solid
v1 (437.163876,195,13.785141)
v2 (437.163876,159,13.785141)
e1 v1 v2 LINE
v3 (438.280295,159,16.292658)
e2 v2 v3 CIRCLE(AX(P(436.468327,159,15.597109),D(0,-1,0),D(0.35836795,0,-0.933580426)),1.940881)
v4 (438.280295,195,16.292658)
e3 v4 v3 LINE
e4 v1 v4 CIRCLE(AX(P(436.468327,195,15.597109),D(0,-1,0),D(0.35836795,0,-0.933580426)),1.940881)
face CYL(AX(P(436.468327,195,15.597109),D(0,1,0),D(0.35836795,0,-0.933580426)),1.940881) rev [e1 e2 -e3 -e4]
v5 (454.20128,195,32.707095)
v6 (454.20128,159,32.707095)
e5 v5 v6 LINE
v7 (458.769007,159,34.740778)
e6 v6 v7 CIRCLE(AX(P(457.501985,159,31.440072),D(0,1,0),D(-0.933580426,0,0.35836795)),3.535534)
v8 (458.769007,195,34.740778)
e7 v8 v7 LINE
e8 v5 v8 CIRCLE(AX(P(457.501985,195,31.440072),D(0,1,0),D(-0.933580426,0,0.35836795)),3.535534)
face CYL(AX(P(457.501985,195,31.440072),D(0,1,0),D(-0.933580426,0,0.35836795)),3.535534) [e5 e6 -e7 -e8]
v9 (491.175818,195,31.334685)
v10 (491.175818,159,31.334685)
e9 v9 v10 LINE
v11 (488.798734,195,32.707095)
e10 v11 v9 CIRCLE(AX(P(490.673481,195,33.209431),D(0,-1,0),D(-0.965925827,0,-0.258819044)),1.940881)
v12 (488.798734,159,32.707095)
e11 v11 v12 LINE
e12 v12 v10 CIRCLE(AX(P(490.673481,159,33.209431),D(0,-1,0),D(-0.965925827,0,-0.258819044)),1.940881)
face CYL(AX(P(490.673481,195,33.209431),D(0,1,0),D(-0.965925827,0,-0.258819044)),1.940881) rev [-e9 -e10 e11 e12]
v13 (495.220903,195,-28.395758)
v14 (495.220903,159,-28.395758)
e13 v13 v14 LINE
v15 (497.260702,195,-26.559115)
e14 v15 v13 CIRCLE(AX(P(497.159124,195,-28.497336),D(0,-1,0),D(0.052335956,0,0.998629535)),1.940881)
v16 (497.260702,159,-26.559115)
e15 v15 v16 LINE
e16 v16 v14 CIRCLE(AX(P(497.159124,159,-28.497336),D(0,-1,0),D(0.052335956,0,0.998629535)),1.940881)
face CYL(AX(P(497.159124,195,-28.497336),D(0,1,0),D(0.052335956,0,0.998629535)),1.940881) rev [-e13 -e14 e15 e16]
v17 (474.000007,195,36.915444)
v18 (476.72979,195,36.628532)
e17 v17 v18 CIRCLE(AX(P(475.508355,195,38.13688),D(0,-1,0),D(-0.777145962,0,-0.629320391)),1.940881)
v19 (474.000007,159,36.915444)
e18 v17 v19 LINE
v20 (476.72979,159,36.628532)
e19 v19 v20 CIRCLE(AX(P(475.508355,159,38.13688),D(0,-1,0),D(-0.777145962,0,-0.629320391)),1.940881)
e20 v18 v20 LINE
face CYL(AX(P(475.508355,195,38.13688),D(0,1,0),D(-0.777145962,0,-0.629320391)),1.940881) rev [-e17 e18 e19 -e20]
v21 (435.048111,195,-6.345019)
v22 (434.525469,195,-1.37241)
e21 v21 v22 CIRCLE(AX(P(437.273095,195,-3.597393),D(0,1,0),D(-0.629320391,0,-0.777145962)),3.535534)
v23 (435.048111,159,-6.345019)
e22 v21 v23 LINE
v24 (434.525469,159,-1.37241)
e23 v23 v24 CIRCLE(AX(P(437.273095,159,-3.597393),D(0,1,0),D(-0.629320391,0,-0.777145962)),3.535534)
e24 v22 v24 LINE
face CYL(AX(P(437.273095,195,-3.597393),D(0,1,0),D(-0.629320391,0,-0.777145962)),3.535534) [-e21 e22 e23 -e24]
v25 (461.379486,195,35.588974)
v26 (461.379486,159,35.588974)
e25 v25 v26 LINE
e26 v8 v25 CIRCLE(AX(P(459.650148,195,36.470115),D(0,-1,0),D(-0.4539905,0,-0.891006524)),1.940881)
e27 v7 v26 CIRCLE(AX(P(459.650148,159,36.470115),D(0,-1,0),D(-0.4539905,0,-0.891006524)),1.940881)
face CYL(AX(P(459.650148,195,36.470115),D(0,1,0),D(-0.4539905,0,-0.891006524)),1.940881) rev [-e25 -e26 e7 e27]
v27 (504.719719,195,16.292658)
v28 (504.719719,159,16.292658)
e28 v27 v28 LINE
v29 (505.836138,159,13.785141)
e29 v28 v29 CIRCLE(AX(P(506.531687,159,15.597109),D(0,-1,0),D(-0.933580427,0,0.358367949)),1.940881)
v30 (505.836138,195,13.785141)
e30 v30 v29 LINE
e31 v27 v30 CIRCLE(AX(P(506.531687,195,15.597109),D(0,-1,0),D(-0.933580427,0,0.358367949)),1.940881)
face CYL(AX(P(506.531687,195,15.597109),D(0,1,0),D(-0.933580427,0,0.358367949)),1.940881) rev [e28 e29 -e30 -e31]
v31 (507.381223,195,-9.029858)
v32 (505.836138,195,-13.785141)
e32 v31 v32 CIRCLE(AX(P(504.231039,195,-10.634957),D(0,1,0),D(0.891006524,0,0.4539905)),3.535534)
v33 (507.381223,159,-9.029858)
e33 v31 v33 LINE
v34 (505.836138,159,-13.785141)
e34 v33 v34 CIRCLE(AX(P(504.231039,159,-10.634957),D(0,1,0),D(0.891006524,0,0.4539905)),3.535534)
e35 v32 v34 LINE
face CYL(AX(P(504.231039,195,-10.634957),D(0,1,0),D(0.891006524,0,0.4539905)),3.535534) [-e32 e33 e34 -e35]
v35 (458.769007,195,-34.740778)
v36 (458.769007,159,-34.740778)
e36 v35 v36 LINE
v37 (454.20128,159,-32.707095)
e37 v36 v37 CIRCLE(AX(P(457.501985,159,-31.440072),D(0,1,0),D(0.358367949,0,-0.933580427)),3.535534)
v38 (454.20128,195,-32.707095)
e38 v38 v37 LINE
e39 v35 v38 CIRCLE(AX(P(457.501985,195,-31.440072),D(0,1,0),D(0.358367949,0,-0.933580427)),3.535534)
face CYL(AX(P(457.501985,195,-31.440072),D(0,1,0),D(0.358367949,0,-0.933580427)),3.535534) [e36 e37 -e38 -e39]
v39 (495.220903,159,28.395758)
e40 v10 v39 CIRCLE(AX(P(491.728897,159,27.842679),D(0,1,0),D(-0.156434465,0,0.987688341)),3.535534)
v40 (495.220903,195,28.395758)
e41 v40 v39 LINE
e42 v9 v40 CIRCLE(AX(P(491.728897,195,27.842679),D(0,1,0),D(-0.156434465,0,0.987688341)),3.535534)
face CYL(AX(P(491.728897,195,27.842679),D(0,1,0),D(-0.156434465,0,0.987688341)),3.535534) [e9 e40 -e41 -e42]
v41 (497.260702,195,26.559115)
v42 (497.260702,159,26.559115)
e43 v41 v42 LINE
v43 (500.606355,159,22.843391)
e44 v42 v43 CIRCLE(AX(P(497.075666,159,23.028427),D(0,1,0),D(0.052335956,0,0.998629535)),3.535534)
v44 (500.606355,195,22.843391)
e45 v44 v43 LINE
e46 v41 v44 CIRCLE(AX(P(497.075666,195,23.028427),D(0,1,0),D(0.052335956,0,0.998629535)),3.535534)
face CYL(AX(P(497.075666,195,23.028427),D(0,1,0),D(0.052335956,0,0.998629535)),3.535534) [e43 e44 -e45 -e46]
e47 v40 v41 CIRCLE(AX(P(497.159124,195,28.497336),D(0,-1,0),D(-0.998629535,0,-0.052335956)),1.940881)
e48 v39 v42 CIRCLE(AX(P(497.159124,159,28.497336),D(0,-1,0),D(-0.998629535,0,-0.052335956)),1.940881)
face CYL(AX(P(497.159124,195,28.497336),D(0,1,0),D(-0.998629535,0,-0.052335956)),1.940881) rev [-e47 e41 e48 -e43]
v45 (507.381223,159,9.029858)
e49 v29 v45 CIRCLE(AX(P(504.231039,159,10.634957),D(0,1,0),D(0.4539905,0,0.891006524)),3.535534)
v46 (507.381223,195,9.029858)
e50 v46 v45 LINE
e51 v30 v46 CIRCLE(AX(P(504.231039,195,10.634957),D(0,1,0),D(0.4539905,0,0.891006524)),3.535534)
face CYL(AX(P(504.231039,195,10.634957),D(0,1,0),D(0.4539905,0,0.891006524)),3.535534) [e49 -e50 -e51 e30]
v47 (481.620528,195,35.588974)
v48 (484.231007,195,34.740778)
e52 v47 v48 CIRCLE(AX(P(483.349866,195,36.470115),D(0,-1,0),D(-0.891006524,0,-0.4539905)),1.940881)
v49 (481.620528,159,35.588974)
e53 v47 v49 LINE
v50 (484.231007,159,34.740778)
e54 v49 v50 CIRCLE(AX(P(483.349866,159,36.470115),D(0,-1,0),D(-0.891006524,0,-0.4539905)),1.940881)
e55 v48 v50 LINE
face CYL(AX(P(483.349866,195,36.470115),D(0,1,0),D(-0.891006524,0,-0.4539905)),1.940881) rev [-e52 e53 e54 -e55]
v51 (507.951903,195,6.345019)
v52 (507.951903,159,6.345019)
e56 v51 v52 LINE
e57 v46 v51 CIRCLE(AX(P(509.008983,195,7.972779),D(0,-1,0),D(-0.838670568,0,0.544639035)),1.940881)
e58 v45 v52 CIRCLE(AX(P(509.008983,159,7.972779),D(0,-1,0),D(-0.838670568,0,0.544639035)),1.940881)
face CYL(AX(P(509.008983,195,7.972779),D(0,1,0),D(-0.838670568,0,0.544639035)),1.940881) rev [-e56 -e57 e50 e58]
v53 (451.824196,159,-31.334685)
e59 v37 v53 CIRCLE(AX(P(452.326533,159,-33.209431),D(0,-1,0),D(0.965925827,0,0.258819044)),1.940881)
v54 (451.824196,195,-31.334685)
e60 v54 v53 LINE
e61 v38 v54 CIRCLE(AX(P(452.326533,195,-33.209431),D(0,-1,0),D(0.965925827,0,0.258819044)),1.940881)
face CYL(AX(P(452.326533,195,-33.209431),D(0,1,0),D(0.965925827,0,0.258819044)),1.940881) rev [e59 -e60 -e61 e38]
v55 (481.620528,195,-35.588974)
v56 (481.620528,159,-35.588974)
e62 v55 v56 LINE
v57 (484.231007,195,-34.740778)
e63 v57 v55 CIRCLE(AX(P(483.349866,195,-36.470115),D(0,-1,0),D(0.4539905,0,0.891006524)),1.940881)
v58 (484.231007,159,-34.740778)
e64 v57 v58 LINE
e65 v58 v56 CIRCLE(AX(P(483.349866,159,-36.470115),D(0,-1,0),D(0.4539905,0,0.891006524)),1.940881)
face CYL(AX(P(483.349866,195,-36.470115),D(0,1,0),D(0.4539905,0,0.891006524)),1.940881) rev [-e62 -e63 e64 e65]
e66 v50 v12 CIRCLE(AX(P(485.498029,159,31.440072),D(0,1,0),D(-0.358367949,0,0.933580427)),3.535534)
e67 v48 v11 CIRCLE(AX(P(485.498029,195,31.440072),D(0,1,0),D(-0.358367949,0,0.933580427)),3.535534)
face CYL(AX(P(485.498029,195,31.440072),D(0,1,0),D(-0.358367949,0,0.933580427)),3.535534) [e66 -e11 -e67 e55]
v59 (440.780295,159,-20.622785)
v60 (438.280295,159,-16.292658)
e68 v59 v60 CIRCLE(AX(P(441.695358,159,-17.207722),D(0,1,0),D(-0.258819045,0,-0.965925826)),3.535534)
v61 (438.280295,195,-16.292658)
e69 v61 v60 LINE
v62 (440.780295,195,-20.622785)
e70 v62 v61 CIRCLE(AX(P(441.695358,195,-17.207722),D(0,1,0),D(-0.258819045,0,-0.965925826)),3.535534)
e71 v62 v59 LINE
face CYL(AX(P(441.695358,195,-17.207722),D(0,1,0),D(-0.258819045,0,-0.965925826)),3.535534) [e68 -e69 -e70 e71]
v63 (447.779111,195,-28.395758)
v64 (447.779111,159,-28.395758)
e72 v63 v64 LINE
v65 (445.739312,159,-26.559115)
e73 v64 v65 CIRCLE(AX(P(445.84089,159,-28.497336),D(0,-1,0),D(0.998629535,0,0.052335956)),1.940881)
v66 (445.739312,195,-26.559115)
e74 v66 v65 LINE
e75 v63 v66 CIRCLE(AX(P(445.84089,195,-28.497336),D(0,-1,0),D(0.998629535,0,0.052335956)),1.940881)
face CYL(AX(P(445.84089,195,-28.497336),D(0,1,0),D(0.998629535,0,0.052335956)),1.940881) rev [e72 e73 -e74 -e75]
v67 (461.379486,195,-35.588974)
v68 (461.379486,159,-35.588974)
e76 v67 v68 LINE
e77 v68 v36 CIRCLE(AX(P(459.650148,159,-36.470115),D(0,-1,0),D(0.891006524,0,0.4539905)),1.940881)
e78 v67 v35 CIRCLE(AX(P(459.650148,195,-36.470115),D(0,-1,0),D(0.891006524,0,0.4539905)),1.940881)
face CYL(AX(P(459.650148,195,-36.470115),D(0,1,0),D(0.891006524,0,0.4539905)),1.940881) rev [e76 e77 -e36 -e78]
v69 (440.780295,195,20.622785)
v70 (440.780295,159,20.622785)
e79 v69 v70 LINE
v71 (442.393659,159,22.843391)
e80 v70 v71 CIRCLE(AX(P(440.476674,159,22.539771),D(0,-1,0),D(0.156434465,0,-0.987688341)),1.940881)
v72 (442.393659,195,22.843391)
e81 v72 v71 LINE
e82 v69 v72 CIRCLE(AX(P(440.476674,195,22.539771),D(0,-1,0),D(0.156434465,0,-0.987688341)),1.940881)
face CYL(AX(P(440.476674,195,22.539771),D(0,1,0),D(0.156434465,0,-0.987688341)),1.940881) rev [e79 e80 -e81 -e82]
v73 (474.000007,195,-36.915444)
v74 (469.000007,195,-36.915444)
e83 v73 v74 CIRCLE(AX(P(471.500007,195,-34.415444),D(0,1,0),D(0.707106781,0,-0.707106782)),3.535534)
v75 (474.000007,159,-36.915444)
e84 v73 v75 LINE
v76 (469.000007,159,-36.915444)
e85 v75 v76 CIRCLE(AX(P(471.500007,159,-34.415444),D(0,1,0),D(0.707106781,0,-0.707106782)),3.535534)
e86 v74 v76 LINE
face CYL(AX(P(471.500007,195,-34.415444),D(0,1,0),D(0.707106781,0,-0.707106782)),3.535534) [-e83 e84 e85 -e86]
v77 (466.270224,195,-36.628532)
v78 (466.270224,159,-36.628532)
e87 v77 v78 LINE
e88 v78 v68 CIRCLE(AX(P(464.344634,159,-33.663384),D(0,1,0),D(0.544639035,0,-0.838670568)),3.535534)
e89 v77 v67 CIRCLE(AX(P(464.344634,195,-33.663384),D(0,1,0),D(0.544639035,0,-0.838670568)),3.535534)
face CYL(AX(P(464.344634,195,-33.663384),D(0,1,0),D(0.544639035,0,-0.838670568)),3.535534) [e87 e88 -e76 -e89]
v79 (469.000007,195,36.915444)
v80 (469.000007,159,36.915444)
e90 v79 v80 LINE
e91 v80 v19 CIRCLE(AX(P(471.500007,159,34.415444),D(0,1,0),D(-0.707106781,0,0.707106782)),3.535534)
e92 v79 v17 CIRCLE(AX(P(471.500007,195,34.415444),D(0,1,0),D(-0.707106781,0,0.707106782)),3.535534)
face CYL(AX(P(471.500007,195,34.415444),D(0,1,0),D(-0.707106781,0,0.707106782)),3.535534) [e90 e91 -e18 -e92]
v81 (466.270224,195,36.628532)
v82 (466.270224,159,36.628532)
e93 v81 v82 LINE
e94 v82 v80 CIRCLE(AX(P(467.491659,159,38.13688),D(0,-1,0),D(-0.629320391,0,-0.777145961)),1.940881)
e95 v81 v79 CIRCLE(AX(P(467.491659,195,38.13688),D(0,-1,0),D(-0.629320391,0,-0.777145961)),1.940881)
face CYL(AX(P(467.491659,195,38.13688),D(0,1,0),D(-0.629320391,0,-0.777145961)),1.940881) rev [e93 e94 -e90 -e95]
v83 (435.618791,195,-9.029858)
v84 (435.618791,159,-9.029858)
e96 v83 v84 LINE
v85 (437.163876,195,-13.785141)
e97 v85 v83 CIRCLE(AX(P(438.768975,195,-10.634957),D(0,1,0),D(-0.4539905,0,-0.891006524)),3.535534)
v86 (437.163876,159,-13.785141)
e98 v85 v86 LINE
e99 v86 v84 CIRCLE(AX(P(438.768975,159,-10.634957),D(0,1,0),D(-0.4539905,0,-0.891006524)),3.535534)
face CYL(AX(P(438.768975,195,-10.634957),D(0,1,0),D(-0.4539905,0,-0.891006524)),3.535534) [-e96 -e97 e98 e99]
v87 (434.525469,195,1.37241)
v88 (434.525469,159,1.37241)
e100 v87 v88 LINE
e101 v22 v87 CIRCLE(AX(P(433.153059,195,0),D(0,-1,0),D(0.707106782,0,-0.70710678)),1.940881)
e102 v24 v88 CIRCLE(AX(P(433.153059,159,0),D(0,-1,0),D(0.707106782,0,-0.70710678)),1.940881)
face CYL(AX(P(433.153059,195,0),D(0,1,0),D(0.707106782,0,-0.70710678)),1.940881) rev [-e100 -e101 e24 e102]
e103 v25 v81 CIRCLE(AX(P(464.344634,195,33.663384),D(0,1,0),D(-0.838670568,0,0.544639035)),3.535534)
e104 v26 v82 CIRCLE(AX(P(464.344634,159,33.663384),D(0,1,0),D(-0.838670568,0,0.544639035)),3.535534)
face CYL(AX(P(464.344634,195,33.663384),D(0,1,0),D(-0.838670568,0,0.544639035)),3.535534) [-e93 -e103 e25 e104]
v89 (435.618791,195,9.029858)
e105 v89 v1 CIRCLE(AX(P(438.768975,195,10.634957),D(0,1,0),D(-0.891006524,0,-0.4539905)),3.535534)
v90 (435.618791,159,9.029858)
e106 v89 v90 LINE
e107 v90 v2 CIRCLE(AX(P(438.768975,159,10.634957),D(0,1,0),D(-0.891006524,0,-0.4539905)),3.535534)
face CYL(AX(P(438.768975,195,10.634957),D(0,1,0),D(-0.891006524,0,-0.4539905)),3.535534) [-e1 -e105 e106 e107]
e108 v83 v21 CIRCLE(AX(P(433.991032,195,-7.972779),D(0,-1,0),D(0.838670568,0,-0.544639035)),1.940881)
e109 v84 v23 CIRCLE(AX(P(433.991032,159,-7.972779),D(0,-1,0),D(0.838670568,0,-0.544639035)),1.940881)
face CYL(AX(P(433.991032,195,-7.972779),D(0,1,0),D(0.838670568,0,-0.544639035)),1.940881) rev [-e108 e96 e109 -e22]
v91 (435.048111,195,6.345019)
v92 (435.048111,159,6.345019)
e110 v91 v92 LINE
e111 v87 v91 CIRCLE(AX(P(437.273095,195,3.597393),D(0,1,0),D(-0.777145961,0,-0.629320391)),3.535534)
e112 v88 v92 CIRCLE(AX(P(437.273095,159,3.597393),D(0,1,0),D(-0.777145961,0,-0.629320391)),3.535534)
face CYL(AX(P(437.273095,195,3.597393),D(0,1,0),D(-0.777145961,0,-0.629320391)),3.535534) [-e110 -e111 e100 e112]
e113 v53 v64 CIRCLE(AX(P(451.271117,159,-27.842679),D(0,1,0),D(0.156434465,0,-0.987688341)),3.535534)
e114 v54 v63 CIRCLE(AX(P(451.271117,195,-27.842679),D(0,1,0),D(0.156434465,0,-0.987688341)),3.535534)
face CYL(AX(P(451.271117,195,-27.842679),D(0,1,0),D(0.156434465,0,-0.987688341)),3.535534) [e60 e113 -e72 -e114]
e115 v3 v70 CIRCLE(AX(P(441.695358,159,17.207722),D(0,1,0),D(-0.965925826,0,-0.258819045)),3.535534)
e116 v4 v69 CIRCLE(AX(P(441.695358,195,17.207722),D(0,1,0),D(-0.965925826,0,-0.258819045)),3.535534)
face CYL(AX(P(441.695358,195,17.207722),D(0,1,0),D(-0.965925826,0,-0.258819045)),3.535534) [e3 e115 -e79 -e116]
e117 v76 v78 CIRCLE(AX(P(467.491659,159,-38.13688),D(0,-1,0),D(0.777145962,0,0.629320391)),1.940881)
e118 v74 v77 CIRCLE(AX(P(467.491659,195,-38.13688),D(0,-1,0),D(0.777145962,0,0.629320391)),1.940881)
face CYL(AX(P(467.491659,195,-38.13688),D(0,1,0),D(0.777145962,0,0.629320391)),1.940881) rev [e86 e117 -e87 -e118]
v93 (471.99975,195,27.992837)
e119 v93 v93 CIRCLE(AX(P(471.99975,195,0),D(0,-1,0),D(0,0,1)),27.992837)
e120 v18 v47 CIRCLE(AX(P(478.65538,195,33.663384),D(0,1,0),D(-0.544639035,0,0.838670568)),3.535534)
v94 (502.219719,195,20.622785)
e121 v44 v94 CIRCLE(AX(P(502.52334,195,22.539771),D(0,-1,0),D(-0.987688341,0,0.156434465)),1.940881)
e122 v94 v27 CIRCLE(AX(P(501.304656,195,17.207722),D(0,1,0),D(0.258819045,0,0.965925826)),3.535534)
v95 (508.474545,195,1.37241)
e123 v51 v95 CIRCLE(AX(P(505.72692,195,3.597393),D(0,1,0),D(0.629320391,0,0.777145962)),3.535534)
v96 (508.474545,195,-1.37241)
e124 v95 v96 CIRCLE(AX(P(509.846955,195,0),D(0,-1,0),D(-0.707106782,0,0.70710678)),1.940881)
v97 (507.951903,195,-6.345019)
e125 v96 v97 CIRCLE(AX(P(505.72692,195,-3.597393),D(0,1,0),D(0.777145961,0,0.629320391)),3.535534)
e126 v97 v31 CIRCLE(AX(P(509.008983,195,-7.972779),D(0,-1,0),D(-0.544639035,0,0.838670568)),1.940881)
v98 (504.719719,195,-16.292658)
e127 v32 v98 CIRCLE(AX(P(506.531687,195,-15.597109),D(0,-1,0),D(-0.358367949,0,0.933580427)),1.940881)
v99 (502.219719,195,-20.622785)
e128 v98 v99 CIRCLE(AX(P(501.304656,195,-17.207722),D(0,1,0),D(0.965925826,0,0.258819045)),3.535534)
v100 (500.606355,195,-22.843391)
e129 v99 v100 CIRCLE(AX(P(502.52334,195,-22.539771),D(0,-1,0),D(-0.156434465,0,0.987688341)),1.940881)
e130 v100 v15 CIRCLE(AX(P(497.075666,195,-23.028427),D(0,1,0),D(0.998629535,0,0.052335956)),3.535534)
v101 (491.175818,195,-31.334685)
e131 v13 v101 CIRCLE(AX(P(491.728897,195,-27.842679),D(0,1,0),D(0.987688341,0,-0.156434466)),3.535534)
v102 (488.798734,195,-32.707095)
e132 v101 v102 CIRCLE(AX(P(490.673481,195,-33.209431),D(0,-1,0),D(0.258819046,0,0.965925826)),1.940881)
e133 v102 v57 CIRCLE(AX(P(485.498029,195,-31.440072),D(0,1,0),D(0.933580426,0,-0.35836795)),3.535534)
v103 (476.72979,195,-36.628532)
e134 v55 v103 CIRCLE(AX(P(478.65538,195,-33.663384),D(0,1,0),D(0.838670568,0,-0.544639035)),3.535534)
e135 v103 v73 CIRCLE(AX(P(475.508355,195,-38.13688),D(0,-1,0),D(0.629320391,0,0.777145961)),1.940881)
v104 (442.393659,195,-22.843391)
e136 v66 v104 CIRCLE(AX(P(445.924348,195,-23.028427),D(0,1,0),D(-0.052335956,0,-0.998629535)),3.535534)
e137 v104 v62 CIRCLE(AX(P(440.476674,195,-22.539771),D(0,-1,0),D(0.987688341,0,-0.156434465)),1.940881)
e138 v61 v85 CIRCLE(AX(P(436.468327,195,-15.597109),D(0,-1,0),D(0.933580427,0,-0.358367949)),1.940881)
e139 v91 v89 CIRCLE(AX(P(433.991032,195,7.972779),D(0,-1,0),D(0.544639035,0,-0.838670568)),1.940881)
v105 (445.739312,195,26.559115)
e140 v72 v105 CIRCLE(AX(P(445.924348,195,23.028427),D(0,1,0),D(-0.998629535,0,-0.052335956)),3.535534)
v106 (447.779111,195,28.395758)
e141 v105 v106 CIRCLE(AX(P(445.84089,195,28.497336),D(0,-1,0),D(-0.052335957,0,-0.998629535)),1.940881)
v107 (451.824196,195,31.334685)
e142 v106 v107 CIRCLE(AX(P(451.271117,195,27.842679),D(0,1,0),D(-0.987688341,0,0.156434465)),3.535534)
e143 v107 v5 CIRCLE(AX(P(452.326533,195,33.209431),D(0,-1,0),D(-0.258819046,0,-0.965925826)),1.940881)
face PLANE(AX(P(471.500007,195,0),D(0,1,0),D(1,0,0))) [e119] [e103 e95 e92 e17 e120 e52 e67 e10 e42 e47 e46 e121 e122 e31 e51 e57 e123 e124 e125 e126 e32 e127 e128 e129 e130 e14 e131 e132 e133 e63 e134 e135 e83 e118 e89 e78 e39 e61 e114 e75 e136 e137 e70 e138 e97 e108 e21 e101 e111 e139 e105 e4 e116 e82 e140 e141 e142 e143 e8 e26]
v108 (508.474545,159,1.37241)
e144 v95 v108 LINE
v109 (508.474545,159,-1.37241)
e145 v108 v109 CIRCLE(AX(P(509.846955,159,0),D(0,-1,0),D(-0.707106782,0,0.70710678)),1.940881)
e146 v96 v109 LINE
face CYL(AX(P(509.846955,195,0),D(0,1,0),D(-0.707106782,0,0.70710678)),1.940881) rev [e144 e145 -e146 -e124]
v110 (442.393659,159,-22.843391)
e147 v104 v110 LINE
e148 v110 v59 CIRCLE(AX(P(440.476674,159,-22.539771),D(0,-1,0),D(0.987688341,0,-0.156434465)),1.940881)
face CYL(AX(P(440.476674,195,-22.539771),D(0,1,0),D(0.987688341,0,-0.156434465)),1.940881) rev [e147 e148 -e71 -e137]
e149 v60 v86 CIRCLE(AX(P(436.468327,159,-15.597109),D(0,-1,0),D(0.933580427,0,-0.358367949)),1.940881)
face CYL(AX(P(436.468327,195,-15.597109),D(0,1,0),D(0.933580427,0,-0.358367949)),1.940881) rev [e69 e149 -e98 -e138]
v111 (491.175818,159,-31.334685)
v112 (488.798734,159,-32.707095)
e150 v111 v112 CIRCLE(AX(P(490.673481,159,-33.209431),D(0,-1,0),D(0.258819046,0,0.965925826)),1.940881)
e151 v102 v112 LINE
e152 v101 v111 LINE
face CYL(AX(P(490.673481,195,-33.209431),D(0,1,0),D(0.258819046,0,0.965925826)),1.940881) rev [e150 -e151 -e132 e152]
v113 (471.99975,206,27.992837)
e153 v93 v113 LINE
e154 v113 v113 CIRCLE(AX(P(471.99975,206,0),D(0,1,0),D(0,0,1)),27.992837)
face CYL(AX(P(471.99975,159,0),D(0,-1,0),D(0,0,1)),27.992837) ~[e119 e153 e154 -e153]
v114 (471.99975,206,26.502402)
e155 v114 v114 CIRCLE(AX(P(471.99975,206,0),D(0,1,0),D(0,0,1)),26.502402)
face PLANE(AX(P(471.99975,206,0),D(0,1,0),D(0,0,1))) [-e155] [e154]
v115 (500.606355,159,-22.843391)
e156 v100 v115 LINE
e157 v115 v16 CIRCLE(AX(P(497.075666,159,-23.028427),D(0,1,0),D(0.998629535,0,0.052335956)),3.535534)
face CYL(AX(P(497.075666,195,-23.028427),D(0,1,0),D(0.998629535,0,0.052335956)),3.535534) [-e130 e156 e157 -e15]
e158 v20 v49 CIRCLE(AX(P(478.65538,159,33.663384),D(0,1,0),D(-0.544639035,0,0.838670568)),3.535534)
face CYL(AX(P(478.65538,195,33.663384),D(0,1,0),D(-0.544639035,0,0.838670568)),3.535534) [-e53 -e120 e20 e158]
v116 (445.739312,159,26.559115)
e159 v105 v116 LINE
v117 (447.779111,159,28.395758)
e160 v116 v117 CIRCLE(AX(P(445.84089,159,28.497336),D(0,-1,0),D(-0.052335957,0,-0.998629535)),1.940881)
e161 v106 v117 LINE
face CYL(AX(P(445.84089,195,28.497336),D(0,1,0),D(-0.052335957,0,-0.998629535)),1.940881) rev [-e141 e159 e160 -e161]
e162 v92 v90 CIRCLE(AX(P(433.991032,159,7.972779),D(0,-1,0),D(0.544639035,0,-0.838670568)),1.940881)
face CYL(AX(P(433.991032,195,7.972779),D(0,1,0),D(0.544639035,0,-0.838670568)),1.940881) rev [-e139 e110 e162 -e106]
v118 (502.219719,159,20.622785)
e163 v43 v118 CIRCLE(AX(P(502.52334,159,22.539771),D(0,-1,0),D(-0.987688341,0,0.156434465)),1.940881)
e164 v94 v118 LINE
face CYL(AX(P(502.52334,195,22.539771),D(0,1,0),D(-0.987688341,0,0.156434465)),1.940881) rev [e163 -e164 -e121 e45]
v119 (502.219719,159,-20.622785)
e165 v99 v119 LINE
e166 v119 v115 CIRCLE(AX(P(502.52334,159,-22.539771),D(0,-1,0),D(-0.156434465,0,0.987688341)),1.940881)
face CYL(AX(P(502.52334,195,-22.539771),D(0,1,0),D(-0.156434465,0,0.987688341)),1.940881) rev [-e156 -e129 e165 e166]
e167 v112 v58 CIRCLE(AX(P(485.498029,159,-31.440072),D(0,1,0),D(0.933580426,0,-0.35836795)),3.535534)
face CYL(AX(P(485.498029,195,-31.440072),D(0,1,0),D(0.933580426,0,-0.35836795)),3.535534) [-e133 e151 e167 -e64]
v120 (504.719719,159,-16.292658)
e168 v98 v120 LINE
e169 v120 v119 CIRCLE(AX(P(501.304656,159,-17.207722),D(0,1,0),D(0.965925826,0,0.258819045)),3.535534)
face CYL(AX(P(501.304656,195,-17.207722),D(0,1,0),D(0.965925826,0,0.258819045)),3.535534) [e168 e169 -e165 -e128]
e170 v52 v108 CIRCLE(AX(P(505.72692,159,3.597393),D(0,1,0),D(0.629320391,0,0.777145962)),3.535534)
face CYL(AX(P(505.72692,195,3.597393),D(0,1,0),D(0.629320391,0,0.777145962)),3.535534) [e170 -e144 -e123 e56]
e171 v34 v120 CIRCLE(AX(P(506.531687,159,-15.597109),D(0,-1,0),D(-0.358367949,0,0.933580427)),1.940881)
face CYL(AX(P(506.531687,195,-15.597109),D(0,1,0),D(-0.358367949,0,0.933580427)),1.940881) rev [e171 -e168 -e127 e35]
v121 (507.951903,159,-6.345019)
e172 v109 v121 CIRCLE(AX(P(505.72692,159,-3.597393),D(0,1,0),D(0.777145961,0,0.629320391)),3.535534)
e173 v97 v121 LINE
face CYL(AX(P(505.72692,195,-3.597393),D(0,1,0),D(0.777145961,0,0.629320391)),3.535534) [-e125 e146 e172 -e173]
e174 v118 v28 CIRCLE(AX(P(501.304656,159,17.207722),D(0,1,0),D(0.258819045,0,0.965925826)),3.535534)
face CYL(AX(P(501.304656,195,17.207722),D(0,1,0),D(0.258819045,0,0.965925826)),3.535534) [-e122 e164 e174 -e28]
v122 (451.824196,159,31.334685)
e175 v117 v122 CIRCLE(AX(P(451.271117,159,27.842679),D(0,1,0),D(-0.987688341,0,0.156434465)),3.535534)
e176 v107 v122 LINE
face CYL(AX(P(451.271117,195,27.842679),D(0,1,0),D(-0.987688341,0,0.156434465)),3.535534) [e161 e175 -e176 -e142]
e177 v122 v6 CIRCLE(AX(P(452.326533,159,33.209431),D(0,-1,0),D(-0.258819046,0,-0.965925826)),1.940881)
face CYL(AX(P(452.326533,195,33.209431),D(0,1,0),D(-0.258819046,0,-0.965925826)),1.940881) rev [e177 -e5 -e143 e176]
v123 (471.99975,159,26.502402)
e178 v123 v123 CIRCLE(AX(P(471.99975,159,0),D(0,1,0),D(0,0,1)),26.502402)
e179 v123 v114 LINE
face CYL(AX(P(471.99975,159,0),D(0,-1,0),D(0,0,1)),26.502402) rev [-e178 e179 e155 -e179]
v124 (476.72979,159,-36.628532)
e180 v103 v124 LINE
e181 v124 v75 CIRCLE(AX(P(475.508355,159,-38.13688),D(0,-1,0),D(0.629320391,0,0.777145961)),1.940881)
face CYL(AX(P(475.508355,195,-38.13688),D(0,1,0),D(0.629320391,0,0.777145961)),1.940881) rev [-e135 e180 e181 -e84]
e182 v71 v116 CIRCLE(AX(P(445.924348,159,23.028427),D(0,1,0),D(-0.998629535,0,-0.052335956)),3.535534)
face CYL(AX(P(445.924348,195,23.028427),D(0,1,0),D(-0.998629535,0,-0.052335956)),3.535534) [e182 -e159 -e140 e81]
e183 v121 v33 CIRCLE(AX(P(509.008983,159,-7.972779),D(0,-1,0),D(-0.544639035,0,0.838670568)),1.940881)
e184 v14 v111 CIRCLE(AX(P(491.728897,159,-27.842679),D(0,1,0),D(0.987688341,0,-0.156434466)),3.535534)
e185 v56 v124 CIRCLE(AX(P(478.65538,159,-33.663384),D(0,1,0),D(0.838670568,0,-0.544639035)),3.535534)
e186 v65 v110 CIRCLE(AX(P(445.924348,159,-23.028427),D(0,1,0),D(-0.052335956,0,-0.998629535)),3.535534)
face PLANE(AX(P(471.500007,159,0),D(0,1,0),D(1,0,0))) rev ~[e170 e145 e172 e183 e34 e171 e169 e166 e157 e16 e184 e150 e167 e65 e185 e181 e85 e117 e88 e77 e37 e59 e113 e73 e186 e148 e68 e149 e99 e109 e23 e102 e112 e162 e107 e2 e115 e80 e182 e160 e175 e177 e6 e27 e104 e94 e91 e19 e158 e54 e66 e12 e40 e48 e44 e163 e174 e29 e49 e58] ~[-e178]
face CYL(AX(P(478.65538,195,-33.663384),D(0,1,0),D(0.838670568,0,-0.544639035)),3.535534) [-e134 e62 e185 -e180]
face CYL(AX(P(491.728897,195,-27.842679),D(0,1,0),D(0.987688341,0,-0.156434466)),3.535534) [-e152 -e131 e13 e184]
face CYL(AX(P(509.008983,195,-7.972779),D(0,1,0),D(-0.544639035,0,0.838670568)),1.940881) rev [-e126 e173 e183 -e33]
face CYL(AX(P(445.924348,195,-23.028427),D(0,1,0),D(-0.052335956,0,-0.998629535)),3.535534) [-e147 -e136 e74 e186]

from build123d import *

# Parameters (mm, degrees)
SKETCH7_R                = 27.493094195
BOSS_EXTRUDE2_DEPTH      = 36
BOSS_EXTRUDE3_DEPTH      = 11
BOSS_EXTRUDE3_DEPTH_BACK = 36
SKETCH8_R                = 27.992837321
SKETCH8_R_2              = 26.502402217


with BuildPart() as part:
    # Sketch7 → Boss-Extrude2 (new body)
    with BuildSketch(Plane(origin=(0, 195, 0), x_dir=(1, 0, 0), z_dir=(0, 1, 0))):
        with BuildLine():
            ThreePointArc((469.000007042, -36.915443923), (471.500007042, -37.950977828), (474.000007042, -36.915443923))
            ThreePointArc((474.000007042, -36.915443923), (475.305477345, -36.206631381), (476.729790403, -36.62853213))
            ThreePointArc((476.729790403, -36.62853213), (479.390459011, -37.121657908), (481.620528407, -35.588973676))
            ThreePointArc((481.620528407, -35.588973676), (482.750100638, -34.624227851), (484.231007137, -34.74077772))
            ThreePointArc((484.231007137, -34.74077772), (486.936060365, -34.669943408), (488.798734425, -32.707094505))
            ThreePointArc((488.798734425, -32.707094505), (489.703040856, -31.528579418), (491.175818076, -31.334684619))
            ThreePointArc((491.175818076, -31.334684619), (493.80703212, -30.702986016), (495.220903048, -28.395758358))
            ThreePointArc((495.220903048, -28.395758358), (495.86042115, -27.054980774), (497.260701657, -26.55911544))
            ThreePointArc((497.260701657, -26.55911544), (499.703079837, -25.394160806), (500.606354689, -22.843391312))
            ThreePointArc((500.606354689, -22.843391312), (500.953134452, -21.398949646), (502.219719271, -20.622785471))
            ThreePointArc((502.219719271, -20.622785471), (504.36651794, -18.975488914), (504.719719271, -16.292658452))
            ThreePointArc((504.719719271, -16.292658452), (504.758604755, -14.807681735), (505.836138051, -13.785140818))
            ThreePointArc((505.836138051, -13.785140818), (507.593531806, -11.727497102), (507.381223022, -9.029858236))
            ThreePointArc((507.381223022, -9.029858236), (507.110514745, -7.569247077), (507.951903142, -6.345019362))
            ThreePointArc((507.951903142, -6.345019362), (509.243085443, -3.966957392), (508.474545458, -1.372409886))
            ThreePointArc((508.474545458, -1.372409886), (507.906074671, 0), (508.474545458, 1.372409886))
            ThreePointArc((508.474545458, 1.372409886), (509.243085443, 3.966957392), (507.951903142, 6.345019362))
            ThreePointArc((507.951903142, 6.345019362), (507.110514745, 7.569247077), (507.381223022, 9.029858236))
            ThreePointArc((507.381223022, 9.029858236), (507.593531806, 11.727497102), (505.836138051, 13.785140818))
            ThreePointArc((505.836138051, 13.785140818), (504.758604755, 14.807681735), (504.719719271, 16.292658452))
            ThreePointArc((504.719719271, 16.292658452), (504.36651794, 18.975488914), (502.219719271, 20.622785471))
            ThreePointArc((502.219719271, 20.622785471), (500.953134452, 21.398949646), (500.606354689, 22.843391312))
            ThreePointArc((500.606354689, 22.843391312), (499.703079837, 25.394160806), (497.260701657, 26.55911544))
            ThreePointArc((497.260701657, 26.55911544), (495.86042115, 27.054980774), (495.220903048, 28.395758358))
            ThreePointArc((495.220903048, 28.395758358), (493.80703212, 30.702986016), (491.175818076, 31.334684619))
            ThreePointArc((491.175818076, 31.334684619), (489.703040856, 31.528579418), (488.798734425, 32.707094505))
            ThreePointArc((488.798734425, 32.707094505), (486.936060365, 34.669943408), (484.231007137, 34.74077772))
            ThreePointArc((484.231007137, 34.74077772), (482.750100638, 34.624227851), (481.620528407, 35.588973676))
            ThreePointArc((481.620528407, 35.588973676), (479.390459011, 37.121657908), (476.729790403, 36.62853213))
            ThreePointArc((476.729790403, 36.62853213), (475.305477345, 36.206631381), (474.000007042, 36.915443923))
            ThreePointArc((474.000007042, 36.915443923), (471.500007042, 37.950977828), (469.000007042, 36.915443923))
            ThreePointArc((469.000007042, 36.915443923), (467.694536739, 36.206631381), (466.270223681, 36.62853213))
            ThreePointArc((466.270223681, 36.62853213), (463.609555074, 37.121657908), (461.379485677, 35.588973676))
            ThreePointArc((461.379485677, 35.588973676), (460.249913446, 34.624227851), (458.769006947, 34.74077772))
            ThreePointArc((458.769006947, 34.74077772), (456.063953719, 34.669943408), (454.201279659, 32.707094505))
            ThreePointArc((454.201279659, 32.707094505), (453.296973228, 31.528579418), (451.824196008, 31.334684619))
            ThreePointArc((451.824196008, 31.334684619), (449.192981964, 30.702986016), (447.779111037, 28.395758358))
            ThreePointArc((447.779111037, 28.395758358), (447.139592935, 27.054980774), (445.739312427, 26.55911544))
            ThreePointArc((445.739312427, 26.55911544), (443.296934247, 25.394160806), (442.393659395, 22.843391312))
            ThreePointArc((442.393659395, 22.843391312), (442.046879632, 21.398949646), (440.780294813, 20.622785471))
            ThreePointArc((440.780294813, 20.622785471), (438.633496144, 18.975488914), (438.280294813, 16.292658452))
            ThreePointArc((438.280294813, 16.292658452), (438.241409329, 14.807681735), (437.163876034, 13.785140818))
            ThreePointArc((437.163876034, 13.785140818), (435.406482279, 11.727497102), (435.618791062, 9.029858236))
            ThreePointArc((435.618791062, 9.029858236), (435.889499339, 7.569247077), (435.048110942, 6.345019362))
            ThreePointArc((435.048110942, 6.345019362), (433.756928641, 3.966957392), (434.525468626, 1.372409886))
            ThreePointArc((434.525468626, 1.372409886), (435.093939413, 0), (434.525468626, -1.372409886))
            ThreePointArc((434.525468626, -1.372409886), (433.756928641, -3.966957392), (435.048110942, -6.345019362))
            ThreePointArc((435.048110942, -6.345019362), (435.889499339, -7.569247077), (435.618791062, -9.029858236))
            ThreePointArc((435.618791062, -9.029858236), (435.406482279, -11.727497102), (437.163876034, -13.785140818))
            ThreePointArc((437.163876034, -13.785140818), (438.241409329, -14.807681735), (438.280294813, -16.292658452))
            ThreePointArc((438.280294813, -16.292658452), (438.633496144, -18.975488914), (440.780294813, -20.622785471))
            ThreePointArc((440.780294813, -20.622785471), (442.046879632, -21.398949646), (442.393659395, -22.843391312))
            ThreePointArc((442.393659395, -22.843391312), (443.296934247, -25.394160806), (445.739312427, -26.55911544))
            ThreePointArc((445.739312427, -26.55911544), (447.139592935, -27.054980774), (447.779111037, -28.395758358))
            ThreePointArc((447.779111037, -28.395758358), (449.192981964, -30.702986016), (451.824196008, -31.334684619))
            ThreePointArc((451.824196008, -31.334684619), (453.296973228, -31.528579418), (454.201279659, -32.707094505))
            ThreePointArc((454.201279659, -32.707094505), (456.063953719, -34.669943408), (458.769006947, -34.74077772))
            ThreePointArc((458.769006947, -34.74077772), (460.249913446, -34.624227851), (461.379485677, -35.588973676))
            ThreePointArc((461.379485677, -35.588973676), (463.609555074, -37.121657908), (466.270223681, -36.62853213))
            ThreePointArc((466.270223681, -36.62853213), (467.694536739, -36.206631381), (469.000007042, -36.915443923))
        make_face()
        with Locations(Location((471.500007042, 0, 0), (0, 0, 270))):
            Circle(SKETCH7_R, mode=Mode.SUBTRACT)
    extrude(amount=-BOSS_EXTRUDE2_DEPTH)

    # Sketch8 → Boss-Extrude3 (add, two sides: drawn at the far end of the back side and taken through both)
    with BuildSketch(Plane(origin=(0, 195, 0), x_dir=(1, 0, 0), z_dir=(0, 1, 0)).offset(-BOSS_EXTRUDE3_DEPTH_BACK)):
        with Locations(Location((471.999750168, 0, 0), (0, 0, 270))):
            Circle(SKETCH8_R)
        with Locations(Location((471.999750168, 0, 0), (0, 0, 270))):
            Circle(SKETCH8_R_2, mode=Mode.SUBTRACT)
    extrude(amount=BOSS_EXTRUDE3_DEPTH + BOSS_EXTRUDE3_DEPTH_BACK)


solid = part.part
